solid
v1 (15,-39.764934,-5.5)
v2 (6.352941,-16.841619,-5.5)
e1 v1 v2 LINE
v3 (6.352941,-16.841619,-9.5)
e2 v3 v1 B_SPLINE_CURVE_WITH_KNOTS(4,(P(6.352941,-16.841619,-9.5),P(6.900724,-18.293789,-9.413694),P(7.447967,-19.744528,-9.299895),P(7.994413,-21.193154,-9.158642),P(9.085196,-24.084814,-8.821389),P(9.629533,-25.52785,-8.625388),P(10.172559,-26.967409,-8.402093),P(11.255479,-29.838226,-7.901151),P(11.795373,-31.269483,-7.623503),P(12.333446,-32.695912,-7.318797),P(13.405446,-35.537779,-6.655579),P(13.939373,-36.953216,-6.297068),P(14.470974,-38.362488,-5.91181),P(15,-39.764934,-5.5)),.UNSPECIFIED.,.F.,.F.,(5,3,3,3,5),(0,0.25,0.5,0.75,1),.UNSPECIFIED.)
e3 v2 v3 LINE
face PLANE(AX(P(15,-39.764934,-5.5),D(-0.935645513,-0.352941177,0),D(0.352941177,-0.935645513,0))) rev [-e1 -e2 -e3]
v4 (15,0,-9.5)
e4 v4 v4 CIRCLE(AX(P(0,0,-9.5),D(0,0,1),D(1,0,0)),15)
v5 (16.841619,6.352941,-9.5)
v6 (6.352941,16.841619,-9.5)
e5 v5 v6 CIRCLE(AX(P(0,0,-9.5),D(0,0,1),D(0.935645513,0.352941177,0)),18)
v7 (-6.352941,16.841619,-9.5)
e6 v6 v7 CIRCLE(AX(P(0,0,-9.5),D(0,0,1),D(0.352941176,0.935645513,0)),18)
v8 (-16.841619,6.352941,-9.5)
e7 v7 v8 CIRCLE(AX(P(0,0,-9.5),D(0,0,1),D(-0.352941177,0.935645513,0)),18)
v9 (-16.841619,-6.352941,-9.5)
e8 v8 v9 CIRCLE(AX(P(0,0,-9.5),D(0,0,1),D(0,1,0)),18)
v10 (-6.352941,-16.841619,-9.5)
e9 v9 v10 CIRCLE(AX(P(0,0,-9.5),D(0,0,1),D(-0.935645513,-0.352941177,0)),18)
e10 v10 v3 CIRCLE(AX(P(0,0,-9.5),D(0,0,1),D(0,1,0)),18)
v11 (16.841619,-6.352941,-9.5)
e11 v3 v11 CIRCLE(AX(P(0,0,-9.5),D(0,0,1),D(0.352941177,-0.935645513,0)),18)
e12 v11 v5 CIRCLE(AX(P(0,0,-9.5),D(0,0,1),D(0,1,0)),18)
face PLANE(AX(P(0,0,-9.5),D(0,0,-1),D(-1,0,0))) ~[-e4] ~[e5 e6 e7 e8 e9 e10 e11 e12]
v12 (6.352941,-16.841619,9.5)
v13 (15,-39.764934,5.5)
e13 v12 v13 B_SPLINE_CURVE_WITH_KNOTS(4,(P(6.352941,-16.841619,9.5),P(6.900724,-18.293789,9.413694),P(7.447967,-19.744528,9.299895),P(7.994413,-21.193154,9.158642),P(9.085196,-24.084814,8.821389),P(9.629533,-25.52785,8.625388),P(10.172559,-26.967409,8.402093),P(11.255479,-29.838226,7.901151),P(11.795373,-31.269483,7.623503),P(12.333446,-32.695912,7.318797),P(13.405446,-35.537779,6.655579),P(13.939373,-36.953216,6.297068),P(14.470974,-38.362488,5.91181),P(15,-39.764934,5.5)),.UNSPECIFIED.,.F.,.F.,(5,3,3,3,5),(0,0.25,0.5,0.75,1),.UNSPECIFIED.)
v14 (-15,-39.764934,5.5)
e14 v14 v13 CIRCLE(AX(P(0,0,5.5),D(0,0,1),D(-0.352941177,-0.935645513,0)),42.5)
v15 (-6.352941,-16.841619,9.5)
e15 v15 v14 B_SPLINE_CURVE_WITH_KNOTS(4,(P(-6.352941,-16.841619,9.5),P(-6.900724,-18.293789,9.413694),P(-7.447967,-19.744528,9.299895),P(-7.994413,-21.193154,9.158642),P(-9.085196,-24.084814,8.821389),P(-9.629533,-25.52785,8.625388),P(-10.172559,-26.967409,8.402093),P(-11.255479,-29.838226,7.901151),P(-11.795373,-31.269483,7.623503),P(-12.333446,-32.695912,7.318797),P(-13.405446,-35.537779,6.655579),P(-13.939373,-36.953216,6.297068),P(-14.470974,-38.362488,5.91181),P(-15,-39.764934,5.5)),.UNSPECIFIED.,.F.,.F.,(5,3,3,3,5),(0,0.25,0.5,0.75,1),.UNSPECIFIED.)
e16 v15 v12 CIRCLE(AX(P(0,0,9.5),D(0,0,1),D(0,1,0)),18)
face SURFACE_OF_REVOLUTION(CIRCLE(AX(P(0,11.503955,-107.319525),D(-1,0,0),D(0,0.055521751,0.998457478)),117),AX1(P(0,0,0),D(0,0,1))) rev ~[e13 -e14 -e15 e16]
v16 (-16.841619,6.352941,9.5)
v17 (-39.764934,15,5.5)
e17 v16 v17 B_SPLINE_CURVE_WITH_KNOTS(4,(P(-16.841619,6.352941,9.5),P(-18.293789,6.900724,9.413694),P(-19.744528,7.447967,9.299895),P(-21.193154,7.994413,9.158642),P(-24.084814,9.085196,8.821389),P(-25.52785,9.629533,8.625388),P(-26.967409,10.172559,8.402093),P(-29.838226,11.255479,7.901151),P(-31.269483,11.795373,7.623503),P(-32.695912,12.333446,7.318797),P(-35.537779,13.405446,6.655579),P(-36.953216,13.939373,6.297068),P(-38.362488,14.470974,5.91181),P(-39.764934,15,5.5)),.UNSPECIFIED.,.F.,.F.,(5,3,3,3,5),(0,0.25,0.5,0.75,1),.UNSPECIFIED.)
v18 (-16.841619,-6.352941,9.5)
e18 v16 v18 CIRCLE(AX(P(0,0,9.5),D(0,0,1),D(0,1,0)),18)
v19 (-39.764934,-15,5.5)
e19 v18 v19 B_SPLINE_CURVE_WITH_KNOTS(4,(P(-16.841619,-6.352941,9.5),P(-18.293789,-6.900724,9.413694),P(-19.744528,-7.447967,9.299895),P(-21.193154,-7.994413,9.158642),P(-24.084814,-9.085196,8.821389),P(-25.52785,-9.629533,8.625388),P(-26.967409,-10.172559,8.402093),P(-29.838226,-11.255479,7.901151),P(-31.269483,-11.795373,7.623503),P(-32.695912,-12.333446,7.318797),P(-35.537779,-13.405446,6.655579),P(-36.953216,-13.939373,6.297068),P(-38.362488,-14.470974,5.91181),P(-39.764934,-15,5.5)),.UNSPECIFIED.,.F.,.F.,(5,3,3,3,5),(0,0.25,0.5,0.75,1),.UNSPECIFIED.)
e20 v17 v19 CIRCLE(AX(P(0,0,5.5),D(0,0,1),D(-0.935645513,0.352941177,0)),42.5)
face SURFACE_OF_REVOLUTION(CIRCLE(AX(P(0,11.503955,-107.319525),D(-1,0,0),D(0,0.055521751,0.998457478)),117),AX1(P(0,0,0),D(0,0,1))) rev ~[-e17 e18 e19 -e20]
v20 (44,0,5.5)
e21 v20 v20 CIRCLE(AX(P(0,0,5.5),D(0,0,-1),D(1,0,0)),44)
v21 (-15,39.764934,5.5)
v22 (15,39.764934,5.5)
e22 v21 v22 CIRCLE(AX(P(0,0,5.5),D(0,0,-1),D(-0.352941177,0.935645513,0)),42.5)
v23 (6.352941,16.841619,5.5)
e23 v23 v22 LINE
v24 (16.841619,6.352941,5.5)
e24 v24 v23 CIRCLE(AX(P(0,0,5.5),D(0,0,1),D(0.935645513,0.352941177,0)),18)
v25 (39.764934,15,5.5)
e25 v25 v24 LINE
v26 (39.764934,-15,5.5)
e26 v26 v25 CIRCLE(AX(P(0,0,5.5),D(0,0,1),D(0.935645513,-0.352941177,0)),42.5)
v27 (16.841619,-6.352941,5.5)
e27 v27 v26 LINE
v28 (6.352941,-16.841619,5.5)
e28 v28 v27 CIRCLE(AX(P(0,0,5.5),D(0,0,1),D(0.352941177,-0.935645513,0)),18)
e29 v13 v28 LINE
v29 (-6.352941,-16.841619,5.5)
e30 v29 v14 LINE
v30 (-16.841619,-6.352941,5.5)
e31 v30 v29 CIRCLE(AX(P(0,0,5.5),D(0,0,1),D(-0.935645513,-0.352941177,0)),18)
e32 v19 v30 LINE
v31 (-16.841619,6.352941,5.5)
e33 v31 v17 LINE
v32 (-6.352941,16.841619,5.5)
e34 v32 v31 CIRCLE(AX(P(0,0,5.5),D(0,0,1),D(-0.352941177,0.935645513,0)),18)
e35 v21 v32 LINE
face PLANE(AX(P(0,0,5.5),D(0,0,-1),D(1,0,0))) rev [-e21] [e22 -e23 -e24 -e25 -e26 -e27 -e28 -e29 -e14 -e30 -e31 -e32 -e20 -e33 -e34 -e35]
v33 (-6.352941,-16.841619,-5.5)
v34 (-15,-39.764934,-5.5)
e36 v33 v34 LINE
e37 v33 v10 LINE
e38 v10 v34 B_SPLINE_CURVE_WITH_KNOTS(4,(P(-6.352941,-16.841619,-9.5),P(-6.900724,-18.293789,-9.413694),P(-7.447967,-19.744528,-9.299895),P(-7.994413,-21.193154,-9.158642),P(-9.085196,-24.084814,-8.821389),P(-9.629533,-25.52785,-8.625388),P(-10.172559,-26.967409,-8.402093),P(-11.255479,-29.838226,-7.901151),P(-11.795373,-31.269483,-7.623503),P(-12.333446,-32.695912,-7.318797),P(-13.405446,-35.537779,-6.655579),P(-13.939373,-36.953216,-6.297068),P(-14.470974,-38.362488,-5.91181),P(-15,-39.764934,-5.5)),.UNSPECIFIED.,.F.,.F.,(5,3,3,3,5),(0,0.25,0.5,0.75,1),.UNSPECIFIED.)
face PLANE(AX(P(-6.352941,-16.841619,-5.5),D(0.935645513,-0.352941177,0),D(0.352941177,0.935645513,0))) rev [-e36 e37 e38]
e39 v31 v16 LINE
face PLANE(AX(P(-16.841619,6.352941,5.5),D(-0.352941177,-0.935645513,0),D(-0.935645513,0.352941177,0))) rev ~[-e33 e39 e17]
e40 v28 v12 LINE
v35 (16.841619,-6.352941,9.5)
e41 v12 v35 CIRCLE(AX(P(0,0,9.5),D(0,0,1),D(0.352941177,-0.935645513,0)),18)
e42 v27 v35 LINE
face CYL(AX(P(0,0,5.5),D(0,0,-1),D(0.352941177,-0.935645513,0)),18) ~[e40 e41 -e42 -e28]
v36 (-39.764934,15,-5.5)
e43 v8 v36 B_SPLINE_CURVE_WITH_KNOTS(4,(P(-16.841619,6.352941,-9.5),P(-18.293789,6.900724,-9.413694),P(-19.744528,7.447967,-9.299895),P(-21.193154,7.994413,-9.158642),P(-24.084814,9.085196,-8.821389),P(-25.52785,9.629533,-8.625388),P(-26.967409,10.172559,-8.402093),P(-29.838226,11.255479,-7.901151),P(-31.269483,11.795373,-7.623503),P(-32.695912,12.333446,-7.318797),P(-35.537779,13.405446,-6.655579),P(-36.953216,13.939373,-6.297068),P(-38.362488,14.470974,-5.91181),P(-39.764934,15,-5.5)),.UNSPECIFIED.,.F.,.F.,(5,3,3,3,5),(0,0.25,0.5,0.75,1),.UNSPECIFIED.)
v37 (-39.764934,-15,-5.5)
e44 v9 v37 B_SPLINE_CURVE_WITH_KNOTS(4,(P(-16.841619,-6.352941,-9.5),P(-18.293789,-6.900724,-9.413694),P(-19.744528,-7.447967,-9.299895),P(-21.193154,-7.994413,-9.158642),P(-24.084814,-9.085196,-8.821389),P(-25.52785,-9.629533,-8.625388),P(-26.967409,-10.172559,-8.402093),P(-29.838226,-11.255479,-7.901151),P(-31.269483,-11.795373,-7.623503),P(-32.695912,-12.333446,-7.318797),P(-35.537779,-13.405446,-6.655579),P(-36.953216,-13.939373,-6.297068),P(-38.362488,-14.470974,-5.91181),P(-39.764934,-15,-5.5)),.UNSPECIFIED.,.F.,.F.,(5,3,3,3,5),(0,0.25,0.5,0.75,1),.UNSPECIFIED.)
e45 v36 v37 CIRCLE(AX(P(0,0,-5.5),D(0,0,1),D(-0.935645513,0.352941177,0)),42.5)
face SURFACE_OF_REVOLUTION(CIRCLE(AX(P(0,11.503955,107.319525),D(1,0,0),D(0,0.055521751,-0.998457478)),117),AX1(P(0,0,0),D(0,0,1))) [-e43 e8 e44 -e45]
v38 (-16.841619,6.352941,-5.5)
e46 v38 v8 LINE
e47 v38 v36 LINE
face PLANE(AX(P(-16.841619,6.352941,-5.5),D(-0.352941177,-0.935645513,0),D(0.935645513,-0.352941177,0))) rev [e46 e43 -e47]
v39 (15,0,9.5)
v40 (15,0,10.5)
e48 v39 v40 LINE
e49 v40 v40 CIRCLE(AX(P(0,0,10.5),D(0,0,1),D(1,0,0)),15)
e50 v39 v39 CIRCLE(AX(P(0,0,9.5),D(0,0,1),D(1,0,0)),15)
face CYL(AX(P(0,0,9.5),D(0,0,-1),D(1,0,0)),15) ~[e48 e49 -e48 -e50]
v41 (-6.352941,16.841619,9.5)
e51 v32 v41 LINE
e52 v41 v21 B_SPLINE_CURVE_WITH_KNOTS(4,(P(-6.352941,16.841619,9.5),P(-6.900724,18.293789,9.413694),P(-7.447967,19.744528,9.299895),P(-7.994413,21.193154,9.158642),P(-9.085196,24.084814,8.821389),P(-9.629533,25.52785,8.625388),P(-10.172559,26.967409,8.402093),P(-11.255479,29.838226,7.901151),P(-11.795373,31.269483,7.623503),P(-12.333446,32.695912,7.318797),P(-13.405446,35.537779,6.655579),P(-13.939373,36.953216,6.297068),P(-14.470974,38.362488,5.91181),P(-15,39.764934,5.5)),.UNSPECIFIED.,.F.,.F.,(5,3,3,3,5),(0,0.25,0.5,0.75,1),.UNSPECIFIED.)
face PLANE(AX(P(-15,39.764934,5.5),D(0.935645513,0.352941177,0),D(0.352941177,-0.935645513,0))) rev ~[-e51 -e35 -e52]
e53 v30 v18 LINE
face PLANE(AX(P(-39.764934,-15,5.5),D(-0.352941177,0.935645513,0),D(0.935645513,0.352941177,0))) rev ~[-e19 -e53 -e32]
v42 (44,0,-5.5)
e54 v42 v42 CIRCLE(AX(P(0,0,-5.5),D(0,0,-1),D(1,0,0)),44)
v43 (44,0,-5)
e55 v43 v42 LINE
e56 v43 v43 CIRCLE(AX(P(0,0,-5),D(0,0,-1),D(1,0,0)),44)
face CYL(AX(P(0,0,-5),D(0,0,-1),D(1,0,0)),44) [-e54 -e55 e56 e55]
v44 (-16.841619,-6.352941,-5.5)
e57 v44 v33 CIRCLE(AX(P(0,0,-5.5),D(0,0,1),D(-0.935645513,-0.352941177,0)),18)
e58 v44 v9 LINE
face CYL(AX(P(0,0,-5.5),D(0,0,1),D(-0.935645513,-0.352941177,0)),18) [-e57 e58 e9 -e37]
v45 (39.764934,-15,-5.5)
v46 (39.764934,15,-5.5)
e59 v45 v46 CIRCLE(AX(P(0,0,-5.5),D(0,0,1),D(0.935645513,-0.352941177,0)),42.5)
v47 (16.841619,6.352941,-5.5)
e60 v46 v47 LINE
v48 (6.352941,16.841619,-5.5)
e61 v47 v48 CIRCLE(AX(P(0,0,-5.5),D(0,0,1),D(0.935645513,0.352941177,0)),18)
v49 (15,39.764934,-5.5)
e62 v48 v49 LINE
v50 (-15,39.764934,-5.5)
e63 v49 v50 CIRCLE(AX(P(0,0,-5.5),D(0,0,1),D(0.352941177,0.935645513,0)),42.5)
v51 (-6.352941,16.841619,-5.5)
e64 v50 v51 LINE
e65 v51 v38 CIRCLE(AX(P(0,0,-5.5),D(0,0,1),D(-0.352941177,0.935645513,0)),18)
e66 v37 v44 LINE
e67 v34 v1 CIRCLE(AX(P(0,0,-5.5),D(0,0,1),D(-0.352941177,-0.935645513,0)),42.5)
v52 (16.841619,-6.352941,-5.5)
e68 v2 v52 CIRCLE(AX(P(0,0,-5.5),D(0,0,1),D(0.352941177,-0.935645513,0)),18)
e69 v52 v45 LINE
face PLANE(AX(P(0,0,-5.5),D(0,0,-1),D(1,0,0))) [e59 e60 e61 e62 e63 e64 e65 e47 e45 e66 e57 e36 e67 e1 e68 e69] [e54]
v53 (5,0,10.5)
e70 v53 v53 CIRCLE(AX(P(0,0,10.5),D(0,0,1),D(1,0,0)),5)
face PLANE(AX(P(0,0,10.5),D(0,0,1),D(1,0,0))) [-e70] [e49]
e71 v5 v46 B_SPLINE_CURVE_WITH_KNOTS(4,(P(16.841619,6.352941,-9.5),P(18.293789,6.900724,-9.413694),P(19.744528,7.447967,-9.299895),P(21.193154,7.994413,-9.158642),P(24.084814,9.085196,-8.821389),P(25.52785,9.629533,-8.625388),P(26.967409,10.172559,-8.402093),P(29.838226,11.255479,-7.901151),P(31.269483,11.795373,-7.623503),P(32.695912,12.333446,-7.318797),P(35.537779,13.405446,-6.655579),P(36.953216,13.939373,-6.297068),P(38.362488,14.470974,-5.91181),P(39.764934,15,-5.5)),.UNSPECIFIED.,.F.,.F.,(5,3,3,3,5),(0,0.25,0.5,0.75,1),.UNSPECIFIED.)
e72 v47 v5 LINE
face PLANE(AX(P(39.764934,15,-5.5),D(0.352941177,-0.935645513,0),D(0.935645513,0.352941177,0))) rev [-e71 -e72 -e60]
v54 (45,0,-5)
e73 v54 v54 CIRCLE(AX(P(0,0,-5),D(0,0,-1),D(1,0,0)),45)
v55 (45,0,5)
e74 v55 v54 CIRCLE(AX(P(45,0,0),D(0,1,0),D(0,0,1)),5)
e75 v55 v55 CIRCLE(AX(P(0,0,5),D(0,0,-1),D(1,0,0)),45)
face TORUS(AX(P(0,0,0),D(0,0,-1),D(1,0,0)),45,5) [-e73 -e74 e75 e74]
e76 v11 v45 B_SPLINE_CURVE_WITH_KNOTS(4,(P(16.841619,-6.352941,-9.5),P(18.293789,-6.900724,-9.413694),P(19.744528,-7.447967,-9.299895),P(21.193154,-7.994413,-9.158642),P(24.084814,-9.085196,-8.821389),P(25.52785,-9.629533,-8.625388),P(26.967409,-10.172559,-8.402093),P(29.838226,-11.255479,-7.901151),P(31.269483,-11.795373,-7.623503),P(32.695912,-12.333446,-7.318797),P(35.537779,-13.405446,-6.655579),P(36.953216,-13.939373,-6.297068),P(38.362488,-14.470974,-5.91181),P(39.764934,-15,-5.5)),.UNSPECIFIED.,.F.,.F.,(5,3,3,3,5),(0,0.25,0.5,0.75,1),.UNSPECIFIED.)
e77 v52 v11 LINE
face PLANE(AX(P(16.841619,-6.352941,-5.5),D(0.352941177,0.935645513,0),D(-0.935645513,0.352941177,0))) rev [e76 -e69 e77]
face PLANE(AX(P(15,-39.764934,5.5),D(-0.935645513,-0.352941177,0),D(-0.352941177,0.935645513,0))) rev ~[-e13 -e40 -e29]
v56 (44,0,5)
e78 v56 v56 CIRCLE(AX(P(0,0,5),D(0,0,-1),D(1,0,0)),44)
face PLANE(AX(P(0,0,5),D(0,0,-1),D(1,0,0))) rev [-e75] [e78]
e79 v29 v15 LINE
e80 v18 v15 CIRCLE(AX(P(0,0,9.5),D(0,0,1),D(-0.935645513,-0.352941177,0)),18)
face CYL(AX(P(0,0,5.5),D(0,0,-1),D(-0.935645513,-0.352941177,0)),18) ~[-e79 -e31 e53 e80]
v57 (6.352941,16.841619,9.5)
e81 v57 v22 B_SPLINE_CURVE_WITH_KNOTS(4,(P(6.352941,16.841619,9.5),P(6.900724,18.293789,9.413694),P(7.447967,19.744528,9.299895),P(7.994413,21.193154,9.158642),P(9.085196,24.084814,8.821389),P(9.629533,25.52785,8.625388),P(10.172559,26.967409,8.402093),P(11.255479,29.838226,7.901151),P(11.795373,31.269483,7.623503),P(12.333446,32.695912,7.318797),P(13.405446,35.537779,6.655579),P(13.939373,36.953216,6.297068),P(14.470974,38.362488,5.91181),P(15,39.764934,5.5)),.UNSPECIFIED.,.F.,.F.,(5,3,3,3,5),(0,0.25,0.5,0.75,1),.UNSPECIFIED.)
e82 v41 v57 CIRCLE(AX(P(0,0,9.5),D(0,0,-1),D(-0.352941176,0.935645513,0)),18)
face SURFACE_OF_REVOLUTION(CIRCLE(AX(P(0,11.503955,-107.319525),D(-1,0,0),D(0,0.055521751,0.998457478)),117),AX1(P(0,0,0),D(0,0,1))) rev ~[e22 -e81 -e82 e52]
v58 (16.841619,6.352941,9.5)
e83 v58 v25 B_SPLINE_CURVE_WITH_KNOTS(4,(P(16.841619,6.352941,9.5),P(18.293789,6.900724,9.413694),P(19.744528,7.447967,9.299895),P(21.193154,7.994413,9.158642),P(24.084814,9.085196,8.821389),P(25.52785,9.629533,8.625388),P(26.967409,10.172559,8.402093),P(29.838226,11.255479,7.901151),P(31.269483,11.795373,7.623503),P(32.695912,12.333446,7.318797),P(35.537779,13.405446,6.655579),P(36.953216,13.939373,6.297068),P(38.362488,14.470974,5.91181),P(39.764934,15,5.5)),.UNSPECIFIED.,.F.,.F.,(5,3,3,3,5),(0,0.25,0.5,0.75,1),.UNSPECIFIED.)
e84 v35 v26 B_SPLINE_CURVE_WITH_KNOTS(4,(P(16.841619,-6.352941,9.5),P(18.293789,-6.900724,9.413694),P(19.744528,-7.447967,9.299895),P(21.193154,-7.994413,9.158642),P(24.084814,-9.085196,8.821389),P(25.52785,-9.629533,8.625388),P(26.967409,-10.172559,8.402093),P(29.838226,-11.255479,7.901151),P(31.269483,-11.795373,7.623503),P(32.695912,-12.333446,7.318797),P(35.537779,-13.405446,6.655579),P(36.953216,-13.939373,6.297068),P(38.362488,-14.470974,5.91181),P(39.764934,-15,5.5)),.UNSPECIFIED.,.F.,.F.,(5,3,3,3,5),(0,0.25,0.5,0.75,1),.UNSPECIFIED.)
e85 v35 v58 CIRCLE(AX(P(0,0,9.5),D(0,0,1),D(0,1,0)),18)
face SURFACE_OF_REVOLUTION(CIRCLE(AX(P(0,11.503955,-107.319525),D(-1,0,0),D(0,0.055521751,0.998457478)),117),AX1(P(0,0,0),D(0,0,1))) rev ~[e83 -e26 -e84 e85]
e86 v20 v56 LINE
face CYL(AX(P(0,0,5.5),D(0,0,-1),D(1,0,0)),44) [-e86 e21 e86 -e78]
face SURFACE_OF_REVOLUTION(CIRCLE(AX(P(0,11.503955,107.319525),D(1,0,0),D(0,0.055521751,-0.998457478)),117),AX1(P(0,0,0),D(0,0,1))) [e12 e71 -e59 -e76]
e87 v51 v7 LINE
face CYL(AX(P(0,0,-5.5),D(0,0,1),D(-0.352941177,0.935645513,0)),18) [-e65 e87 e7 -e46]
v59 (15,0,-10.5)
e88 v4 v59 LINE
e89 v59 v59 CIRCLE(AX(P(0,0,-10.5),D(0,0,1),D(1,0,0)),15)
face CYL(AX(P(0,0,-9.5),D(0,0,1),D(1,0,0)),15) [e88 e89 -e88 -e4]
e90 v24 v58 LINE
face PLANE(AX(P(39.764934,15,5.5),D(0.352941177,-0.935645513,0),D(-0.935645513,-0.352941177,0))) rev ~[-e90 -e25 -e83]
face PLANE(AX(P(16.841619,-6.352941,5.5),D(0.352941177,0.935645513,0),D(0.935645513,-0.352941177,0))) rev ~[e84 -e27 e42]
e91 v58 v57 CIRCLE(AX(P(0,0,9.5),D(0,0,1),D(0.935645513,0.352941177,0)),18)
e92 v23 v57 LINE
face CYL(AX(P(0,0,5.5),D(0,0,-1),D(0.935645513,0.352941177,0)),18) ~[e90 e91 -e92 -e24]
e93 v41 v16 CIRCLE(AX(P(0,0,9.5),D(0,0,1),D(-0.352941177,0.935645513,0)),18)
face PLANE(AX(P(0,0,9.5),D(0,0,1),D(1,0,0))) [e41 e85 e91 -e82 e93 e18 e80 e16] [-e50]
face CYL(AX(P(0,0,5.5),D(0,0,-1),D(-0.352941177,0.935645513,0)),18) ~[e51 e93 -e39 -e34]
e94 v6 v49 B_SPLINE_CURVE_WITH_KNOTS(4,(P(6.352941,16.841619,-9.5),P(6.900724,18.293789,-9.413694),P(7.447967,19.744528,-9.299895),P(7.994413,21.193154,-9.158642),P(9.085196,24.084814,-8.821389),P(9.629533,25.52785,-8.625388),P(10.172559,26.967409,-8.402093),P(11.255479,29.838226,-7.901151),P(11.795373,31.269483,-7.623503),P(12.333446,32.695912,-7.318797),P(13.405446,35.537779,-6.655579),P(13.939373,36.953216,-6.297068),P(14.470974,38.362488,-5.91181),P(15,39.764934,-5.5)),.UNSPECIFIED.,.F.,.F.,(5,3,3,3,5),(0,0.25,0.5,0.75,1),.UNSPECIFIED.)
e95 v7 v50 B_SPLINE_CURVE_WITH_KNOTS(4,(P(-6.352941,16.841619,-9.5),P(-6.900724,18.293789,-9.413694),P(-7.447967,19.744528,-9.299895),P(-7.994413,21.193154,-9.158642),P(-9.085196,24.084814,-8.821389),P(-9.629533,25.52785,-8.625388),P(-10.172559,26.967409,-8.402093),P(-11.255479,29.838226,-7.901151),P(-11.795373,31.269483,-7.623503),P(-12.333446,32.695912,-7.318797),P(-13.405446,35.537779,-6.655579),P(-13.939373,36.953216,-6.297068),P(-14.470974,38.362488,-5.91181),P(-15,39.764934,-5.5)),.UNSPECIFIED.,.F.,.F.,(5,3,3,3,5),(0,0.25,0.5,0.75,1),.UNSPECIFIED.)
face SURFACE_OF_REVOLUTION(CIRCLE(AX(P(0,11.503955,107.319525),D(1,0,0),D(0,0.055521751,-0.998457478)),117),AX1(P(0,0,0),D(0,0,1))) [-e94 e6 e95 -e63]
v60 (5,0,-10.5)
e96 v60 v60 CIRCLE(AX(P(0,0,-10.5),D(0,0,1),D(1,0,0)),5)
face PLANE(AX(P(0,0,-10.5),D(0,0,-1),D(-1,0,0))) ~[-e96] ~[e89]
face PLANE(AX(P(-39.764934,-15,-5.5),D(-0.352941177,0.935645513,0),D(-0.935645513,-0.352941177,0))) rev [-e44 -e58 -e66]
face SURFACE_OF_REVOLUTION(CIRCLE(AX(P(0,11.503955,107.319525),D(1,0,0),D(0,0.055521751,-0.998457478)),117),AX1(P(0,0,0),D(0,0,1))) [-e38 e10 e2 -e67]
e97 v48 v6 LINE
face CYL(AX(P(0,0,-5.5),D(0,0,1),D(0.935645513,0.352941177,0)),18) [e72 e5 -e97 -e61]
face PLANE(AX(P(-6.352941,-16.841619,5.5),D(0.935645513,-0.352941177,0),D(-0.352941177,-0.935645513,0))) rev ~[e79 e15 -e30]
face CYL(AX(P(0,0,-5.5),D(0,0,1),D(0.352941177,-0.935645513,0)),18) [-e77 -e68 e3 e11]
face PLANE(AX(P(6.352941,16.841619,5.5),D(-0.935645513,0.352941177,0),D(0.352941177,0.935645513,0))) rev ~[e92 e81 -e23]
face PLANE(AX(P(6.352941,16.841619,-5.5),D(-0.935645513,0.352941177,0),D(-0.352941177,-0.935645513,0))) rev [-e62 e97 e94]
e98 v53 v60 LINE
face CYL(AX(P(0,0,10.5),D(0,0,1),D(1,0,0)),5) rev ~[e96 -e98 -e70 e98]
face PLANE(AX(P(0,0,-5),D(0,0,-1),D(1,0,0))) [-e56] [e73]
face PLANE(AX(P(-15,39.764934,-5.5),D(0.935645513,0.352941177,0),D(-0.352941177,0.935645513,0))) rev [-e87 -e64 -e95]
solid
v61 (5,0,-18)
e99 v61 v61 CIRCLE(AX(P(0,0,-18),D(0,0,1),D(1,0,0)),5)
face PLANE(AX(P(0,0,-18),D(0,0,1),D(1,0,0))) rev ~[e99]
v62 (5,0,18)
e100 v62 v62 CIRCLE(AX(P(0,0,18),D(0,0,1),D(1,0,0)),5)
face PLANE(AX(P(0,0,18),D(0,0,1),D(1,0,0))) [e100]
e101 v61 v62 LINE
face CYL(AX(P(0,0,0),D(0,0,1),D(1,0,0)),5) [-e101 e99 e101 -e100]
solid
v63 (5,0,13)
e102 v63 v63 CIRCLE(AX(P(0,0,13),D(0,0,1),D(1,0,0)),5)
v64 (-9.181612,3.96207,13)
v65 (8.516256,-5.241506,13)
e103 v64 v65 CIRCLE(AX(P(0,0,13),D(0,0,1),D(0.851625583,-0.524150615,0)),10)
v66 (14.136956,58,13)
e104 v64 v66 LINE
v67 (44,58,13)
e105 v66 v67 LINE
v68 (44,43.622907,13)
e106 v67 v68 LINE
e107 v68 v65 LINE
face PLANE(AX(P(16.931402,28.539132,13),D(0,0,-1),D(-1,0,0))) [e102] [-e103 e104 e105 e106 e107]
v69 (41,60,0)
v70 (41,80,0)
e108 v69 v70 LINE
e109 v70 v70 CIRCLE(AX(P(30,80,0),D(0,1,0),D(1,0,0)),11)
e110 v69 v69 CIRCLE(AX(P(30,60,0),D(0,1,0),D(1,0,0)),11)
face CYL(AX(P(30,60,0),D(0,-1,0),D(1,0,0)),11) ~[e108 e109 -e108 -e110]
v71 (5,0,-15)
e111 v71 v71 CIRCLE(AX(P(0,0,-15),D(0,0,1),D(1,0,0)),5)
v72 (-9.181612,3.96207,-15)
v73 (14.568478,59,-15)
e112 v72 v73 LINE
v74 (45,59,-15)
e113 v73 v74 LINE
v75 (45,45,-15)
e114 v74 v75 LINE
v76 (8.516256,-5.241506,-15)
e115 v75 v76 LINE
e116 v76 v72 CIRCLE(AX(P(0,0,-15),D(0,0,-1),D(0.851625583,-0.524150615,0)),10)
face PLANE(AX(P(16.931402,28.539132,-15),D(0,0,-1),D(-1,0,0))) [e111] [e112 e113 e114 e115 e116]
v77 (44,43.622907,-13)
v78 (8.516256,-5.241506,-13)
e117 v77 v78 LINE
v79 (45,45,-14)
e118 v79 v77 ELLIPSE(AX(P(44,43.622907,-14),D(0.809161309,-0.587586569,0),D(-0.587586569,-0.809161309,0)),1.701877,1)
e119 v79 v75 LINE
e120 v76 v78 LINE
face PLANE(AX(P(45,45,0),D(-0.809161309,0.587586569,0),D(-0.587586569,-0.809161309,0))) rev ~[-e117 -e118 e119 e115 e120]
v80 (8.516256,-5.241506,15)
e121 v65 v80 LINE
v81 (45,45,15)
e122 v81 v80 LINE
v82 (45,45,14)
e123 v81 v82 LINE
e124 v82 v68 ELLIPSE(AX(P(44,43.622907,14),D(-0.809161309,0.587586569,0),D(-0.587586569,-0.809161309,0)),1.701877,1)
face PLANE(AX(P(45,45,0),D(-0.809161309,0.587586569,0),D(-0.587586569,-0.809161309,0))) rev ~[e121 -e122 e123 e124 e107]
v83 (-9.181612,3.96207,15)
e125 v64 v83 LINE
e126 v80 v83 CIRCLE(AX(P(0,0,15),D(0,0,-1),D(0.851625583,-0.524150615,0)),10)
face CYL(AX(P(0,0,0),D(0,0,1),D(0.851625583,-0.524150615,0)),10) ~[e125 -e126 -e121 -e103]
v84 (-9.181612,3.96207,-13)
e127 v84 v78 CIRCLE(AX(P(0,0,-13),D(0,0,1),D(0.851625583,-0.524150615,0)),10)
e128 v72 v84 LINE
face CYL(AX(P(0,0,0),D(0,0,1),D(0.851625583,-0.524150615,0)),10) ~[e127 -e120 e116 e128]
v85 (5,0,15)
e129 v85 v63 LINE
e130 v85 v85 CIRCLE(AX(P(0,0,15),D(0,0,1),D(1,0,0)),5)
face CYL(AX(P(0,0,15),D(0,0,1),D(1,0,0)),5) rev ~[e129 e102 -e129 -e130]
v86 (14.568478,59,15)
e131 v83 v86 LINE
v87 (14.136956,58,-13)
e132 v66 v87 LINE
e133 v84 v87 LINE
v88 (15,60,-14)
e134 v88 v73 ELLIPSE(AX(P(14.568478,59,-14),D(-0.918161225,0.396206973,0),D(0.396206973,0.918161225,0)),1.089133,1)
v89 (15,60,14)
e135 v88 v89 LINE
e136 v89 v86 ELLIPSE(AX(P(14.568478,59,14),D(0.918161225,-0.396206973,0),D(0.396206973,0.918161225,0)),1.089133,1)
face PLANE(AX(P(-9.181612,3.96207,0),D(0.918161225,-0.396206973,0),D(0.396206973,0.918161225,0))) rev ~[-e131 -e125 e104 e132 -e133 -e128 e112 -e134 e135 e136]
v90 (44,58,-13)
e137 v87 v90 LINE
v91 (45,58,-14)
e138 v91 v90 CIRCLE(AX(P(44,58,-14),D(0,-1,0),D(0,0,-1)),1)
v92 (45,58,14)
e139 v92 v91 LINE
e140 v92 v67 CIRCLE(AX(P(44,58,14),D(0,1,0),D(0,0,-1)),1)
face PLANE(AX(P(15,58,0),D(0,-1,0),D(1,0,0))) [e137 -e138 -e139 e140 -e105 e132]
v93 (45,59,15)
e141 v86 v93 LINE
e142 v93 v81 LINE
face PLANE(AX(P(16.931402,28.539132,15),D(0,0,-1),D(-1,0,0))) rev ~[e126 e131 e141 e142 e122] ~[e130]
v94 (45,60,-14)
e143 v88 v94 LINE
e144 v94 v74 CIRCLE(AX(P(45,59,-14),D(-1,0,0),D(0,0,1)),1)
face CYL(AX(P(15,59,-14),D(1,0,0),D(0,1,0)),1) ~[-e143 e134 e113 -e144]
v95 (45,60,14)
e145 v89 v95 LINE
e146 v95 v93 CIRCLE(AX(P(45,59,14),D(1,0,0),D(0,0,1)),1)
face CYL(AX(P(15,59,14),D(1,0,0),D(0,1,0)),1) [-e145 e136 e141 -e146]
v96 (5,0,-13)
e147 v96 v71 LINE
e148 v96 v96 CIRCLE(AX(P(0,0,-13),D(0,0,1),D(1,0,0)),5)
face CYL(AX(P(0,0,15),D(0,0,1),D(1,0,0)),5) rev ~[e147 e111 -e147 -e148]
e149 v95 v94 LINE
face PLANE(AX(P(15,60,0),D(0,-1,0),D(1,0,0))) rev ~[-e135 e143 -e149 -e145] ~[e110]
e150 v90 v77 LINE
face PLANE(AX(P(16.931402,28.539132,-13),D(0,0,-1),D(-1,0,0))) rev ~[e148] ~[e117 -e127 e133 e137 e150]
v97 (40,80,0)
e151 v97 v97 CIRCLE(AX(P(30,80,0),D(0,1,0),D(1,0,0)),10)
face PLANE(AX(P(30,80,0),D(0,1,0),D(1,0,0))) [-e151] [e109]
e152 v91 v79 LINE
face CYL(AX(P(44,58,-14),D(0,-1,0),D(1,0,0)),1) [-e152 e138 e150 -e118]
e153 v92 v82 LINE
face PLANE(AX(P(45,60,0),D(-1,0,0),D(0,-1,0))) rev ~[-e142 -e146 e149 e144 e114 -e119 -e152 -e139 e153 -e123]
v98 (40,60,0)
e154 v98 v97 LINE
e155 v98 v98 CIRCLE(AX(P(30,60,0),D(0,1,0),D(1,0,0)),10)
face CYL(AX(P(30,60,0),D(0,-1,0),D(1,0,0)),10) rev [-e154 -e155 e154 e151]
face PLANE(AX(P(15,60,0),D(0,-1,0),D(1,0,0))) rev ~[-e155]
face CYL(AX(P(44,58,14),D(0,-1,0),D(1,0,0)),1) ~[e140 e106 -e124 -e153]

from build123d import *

# Parameters (mm, degrees)
RESSALTO_EXTRUS_O1_DEPTH  = 4
ESBO_O5_R                 = 15
RESSALTO_EXTRUS_O2_DEPTH  = 1
ESBO_O6_R                 = 5
CORTE_EXTRUS_O1_DEPTH     = 74.763134559
RESSALTO_EXTRUS_O11_DEPTH = 15
CASCA4_T                  = -2
ESBO_O18_R                = 5
CORTE_EXTRUS_O2_DEPTH     = 30
ESBO_O19_R                = 5
RESSALTO_EXTRUS_O12_DEPTH = 18
ESBO_O20_R                = 11
ESBO_O20_R_2              = 10
EXTRUS_O_FINA4_DEPTH      = 20
FILETE1_R                 = 1
FILETE2_R                 = 1


with BuildPart() as part:
    # Esboço1 → Revolução3 (revolve)
    with BuildSketch(Plane(origin=(0, 0, 0), x_dir=(1, 0, 0), z_dir=(0, 1, 0))):
        with BuildLine():
            Line((-45, 5), (-44, 5))
            Line((-44, 5), (-44, 5.5))
            Line((-44, 5.5), (0, 5.5))
            Line((0, 5.5), (0, -5.5))
            Line((0, -5.5), (-44, -5.5))
            Line((-44, -5.5), (-44, -5))
            Line((-44, -5), (-45, -5))
            ThreePointArc((-45, -5), (-50, 0), (-45, 5))
        make_face()
    revolve(axis=Axis((0, 0, 0), (0, 0, -1)))

    # Esboço3 → Ressalto-extrusão1 (add)
    with BuildSketch(Plane.XY.offset(5.5)):
        with BuildLine():
            Line((-15, 39.764934301), (-6.352941176, 16.841619234))
            ThreePointArc((-6.352941176, 16.841619234), (-12.727922061, 12.727922061), (-16.841619234, 6.352941176))
            Line((-16.841619234, 6.352941176), (-39.764934301, 15))
            ThreePointArc((-39.764934301, 15), (-42.5, 0), (-39.764934301, -15))
            Line((-39.764934301, -15), (-16.841619234, -6.352941176))
            ThreePointArc((-16.841619234, -6.352941176), (-12.727922061, -12.727922061), (-6.352941176, -16.841619234))
            Line((-6.352941176, -16.841619234), (-15, -39.764934301))
            ThreePointArc((-15, -39.764934301), (0, -42.5), (15, -39.764934301))
            Line((15, -39.764934301), (6.352941176, -16.841619234))
            ThreePointArc((6.352941176, -16.841619234), (12.727922061, -12.727922061), (16.841619234, -6.352941176))
            Line((16.841619234, -6.352941176), (39.764934301, -15))
            ThreePointArc((39.764934301, -15), (42.5, 0), (39.764934301, 15))
            Line((39.764934301, 15), (16.841619234, 6.352941176))
            ThreePointArc((16.841619234, 6.352941176), (12.727922061, 12.727922061), (6.352941176, 16.841619234))
            Line((6.352941176, 16.841619234), (15, 39.764934301))
            ThreePointArc((15, 39.764934301), (0, 42.5), (-15, 39.764934301))
        make_face()
    ressalto_extrus_o1 = extrude(amount=RESSALTO_EXTRUS_O1_DEPTH)

    # Esboço4 → Corte-Revolução1 (revolve, cut)
    with BuildSketch(Plane(origin=(0, 0, 0), x_dir=(0, 0, -1), z_dir=(1, 0, 0))):
        with BuildLine():
            Line((-5.5, 42.5), (-20.3940348, 42.5))
            Line((-20.3940348, 42.5), (-19.720524283, 18))
            Line((-19.720524283, 18), (-9.5, 18))
            ThreePointArc((-9.5, 18), (-8.151622138, 30.356387288), (-5.5, 42.5))
        make_face()
    corte_revolu_o1 = revolve(axis=Axis((0, 0, 0), (0, 0, 1)), mode=Mode.SUBTRACT)

    # Esboço5 → Ressalto-extrusão2 (add)
    with BuildSketch(Plane.XY.offset(9.5)):
        Circle(ESBO_O5_R)
    ressalto_extrus_o2 = extrude(amount=RESSALTO_EXTRUS_O2_DEPTH)

    # Espelhar1: Ressalto-extrusão1, Corte-Revolução1, Ressalto-extrusão2 across plane
    add(ressalto_extrus_o1.mirror(Plane.XY))
    add(corte_revolu_o1.mirror(Plane.XY), mode=Mode.SUBTRACT)
    add(ressalto_extrus_o2.mirror(Plane.XY))

    # Esboço6 → Corte-extrusão1 (cut, through all)
    with BuildSketch(Plane.XY.offset(10.5)):
        Circle(ESBO_O6_R)
    extrude(amount=-CORTE_EXTRUS_O1_DEPTH, mode=Mode.SUBTRACT)


with BuildPart() as body_2:
    # Esboço17 → Ressalto-extrusão11 (new, symmetric)
    with BuildSketch(Plane.XY):
        with BuildLine():
            Line((15, 60), (45, 60))
            Line((45, 60), (45, 45))
            Line((45, 45), (8.516255825, -5.24150615))
            ThreePointArc((8.516255825, -5.24150615), (-4.613797463, -8.872027557), (-9.181612248, 3.962069729))
            Line((-9.181612248, 3.962069729), (15, 60))
        make_face()
    extrude(amount=RESSALTO_EXTRUS_O11_DEPTH, both=True)

    # Casca4
    casca4_openings = [body_2.faces().sort_by_distance(p)[0] for p in [
        (-4.613797463, -8.872027557, 0),
        (2.909193876, 31.981034864, 0),
        (45, 52.5, 0),
        (26.758127913, 19.879246925, 0),
    ]]
    offset(amount=CASCA4_T, openings=casca4_openings, kind=Kind.INTERSECTION)

    # Esboço18 → Corte-extrusão2 (cut)
    with BuildSketch(Plane.XY.offset(15)):
        Circle(ESBO_O18_R)
    extrude(amount=-CORTE_EXTRUS_O2_DEPTH, mode=Mode.SUBTRACT)


with BuildPart() as body_3:
    # Esboço19 → Ressalto-extrusão12 (new, symmetric)
    with BuildSketch(Plane.XY):
        Circle(ESBO_O19_R)
    extrude(amount=RESSALTO_EXTRUS_O12_DEPTH, both=True)


with BuildPart() as body_4:
    # Esboço20 → Extrusão-Fina4 (new body)
    with BuildSketch(Plane(origin=(0, 60, 0), x_dir=(1, 0, 0), z_dir=(0, 1, 0))):
        with Locations((30, 0)):
            Circle(ESBO_O20_R)
        with Locations((30, 0)):
            Circle(ESBO_O20_R_2, mode=Mode.SUBTRACT)
    extrude(amount=EXTRUS_O_FINA4_DEPTH)

    # Combinar1: union body 2
    add(body_2.part)

    # Filete1
    filete1_edges = [body_4.edges().sort_by_distance(p)[0] for p in [
        (30, 60, -15),
        (30, 60, 15),
    ]]
    fillet(filete1_edges, radius=FILETE1_R)

    # Filete2
    filete2_edges = [body_4.edges().sort_by_distance(p)[0] for p in [
        (45, 51.5, -13),
        (45, 51.5, 13),
    ]]
    fillet(filete2_edges, radius=FILETE2_R)


solid = Compound([part.part, body_3.part, body_4.part])
